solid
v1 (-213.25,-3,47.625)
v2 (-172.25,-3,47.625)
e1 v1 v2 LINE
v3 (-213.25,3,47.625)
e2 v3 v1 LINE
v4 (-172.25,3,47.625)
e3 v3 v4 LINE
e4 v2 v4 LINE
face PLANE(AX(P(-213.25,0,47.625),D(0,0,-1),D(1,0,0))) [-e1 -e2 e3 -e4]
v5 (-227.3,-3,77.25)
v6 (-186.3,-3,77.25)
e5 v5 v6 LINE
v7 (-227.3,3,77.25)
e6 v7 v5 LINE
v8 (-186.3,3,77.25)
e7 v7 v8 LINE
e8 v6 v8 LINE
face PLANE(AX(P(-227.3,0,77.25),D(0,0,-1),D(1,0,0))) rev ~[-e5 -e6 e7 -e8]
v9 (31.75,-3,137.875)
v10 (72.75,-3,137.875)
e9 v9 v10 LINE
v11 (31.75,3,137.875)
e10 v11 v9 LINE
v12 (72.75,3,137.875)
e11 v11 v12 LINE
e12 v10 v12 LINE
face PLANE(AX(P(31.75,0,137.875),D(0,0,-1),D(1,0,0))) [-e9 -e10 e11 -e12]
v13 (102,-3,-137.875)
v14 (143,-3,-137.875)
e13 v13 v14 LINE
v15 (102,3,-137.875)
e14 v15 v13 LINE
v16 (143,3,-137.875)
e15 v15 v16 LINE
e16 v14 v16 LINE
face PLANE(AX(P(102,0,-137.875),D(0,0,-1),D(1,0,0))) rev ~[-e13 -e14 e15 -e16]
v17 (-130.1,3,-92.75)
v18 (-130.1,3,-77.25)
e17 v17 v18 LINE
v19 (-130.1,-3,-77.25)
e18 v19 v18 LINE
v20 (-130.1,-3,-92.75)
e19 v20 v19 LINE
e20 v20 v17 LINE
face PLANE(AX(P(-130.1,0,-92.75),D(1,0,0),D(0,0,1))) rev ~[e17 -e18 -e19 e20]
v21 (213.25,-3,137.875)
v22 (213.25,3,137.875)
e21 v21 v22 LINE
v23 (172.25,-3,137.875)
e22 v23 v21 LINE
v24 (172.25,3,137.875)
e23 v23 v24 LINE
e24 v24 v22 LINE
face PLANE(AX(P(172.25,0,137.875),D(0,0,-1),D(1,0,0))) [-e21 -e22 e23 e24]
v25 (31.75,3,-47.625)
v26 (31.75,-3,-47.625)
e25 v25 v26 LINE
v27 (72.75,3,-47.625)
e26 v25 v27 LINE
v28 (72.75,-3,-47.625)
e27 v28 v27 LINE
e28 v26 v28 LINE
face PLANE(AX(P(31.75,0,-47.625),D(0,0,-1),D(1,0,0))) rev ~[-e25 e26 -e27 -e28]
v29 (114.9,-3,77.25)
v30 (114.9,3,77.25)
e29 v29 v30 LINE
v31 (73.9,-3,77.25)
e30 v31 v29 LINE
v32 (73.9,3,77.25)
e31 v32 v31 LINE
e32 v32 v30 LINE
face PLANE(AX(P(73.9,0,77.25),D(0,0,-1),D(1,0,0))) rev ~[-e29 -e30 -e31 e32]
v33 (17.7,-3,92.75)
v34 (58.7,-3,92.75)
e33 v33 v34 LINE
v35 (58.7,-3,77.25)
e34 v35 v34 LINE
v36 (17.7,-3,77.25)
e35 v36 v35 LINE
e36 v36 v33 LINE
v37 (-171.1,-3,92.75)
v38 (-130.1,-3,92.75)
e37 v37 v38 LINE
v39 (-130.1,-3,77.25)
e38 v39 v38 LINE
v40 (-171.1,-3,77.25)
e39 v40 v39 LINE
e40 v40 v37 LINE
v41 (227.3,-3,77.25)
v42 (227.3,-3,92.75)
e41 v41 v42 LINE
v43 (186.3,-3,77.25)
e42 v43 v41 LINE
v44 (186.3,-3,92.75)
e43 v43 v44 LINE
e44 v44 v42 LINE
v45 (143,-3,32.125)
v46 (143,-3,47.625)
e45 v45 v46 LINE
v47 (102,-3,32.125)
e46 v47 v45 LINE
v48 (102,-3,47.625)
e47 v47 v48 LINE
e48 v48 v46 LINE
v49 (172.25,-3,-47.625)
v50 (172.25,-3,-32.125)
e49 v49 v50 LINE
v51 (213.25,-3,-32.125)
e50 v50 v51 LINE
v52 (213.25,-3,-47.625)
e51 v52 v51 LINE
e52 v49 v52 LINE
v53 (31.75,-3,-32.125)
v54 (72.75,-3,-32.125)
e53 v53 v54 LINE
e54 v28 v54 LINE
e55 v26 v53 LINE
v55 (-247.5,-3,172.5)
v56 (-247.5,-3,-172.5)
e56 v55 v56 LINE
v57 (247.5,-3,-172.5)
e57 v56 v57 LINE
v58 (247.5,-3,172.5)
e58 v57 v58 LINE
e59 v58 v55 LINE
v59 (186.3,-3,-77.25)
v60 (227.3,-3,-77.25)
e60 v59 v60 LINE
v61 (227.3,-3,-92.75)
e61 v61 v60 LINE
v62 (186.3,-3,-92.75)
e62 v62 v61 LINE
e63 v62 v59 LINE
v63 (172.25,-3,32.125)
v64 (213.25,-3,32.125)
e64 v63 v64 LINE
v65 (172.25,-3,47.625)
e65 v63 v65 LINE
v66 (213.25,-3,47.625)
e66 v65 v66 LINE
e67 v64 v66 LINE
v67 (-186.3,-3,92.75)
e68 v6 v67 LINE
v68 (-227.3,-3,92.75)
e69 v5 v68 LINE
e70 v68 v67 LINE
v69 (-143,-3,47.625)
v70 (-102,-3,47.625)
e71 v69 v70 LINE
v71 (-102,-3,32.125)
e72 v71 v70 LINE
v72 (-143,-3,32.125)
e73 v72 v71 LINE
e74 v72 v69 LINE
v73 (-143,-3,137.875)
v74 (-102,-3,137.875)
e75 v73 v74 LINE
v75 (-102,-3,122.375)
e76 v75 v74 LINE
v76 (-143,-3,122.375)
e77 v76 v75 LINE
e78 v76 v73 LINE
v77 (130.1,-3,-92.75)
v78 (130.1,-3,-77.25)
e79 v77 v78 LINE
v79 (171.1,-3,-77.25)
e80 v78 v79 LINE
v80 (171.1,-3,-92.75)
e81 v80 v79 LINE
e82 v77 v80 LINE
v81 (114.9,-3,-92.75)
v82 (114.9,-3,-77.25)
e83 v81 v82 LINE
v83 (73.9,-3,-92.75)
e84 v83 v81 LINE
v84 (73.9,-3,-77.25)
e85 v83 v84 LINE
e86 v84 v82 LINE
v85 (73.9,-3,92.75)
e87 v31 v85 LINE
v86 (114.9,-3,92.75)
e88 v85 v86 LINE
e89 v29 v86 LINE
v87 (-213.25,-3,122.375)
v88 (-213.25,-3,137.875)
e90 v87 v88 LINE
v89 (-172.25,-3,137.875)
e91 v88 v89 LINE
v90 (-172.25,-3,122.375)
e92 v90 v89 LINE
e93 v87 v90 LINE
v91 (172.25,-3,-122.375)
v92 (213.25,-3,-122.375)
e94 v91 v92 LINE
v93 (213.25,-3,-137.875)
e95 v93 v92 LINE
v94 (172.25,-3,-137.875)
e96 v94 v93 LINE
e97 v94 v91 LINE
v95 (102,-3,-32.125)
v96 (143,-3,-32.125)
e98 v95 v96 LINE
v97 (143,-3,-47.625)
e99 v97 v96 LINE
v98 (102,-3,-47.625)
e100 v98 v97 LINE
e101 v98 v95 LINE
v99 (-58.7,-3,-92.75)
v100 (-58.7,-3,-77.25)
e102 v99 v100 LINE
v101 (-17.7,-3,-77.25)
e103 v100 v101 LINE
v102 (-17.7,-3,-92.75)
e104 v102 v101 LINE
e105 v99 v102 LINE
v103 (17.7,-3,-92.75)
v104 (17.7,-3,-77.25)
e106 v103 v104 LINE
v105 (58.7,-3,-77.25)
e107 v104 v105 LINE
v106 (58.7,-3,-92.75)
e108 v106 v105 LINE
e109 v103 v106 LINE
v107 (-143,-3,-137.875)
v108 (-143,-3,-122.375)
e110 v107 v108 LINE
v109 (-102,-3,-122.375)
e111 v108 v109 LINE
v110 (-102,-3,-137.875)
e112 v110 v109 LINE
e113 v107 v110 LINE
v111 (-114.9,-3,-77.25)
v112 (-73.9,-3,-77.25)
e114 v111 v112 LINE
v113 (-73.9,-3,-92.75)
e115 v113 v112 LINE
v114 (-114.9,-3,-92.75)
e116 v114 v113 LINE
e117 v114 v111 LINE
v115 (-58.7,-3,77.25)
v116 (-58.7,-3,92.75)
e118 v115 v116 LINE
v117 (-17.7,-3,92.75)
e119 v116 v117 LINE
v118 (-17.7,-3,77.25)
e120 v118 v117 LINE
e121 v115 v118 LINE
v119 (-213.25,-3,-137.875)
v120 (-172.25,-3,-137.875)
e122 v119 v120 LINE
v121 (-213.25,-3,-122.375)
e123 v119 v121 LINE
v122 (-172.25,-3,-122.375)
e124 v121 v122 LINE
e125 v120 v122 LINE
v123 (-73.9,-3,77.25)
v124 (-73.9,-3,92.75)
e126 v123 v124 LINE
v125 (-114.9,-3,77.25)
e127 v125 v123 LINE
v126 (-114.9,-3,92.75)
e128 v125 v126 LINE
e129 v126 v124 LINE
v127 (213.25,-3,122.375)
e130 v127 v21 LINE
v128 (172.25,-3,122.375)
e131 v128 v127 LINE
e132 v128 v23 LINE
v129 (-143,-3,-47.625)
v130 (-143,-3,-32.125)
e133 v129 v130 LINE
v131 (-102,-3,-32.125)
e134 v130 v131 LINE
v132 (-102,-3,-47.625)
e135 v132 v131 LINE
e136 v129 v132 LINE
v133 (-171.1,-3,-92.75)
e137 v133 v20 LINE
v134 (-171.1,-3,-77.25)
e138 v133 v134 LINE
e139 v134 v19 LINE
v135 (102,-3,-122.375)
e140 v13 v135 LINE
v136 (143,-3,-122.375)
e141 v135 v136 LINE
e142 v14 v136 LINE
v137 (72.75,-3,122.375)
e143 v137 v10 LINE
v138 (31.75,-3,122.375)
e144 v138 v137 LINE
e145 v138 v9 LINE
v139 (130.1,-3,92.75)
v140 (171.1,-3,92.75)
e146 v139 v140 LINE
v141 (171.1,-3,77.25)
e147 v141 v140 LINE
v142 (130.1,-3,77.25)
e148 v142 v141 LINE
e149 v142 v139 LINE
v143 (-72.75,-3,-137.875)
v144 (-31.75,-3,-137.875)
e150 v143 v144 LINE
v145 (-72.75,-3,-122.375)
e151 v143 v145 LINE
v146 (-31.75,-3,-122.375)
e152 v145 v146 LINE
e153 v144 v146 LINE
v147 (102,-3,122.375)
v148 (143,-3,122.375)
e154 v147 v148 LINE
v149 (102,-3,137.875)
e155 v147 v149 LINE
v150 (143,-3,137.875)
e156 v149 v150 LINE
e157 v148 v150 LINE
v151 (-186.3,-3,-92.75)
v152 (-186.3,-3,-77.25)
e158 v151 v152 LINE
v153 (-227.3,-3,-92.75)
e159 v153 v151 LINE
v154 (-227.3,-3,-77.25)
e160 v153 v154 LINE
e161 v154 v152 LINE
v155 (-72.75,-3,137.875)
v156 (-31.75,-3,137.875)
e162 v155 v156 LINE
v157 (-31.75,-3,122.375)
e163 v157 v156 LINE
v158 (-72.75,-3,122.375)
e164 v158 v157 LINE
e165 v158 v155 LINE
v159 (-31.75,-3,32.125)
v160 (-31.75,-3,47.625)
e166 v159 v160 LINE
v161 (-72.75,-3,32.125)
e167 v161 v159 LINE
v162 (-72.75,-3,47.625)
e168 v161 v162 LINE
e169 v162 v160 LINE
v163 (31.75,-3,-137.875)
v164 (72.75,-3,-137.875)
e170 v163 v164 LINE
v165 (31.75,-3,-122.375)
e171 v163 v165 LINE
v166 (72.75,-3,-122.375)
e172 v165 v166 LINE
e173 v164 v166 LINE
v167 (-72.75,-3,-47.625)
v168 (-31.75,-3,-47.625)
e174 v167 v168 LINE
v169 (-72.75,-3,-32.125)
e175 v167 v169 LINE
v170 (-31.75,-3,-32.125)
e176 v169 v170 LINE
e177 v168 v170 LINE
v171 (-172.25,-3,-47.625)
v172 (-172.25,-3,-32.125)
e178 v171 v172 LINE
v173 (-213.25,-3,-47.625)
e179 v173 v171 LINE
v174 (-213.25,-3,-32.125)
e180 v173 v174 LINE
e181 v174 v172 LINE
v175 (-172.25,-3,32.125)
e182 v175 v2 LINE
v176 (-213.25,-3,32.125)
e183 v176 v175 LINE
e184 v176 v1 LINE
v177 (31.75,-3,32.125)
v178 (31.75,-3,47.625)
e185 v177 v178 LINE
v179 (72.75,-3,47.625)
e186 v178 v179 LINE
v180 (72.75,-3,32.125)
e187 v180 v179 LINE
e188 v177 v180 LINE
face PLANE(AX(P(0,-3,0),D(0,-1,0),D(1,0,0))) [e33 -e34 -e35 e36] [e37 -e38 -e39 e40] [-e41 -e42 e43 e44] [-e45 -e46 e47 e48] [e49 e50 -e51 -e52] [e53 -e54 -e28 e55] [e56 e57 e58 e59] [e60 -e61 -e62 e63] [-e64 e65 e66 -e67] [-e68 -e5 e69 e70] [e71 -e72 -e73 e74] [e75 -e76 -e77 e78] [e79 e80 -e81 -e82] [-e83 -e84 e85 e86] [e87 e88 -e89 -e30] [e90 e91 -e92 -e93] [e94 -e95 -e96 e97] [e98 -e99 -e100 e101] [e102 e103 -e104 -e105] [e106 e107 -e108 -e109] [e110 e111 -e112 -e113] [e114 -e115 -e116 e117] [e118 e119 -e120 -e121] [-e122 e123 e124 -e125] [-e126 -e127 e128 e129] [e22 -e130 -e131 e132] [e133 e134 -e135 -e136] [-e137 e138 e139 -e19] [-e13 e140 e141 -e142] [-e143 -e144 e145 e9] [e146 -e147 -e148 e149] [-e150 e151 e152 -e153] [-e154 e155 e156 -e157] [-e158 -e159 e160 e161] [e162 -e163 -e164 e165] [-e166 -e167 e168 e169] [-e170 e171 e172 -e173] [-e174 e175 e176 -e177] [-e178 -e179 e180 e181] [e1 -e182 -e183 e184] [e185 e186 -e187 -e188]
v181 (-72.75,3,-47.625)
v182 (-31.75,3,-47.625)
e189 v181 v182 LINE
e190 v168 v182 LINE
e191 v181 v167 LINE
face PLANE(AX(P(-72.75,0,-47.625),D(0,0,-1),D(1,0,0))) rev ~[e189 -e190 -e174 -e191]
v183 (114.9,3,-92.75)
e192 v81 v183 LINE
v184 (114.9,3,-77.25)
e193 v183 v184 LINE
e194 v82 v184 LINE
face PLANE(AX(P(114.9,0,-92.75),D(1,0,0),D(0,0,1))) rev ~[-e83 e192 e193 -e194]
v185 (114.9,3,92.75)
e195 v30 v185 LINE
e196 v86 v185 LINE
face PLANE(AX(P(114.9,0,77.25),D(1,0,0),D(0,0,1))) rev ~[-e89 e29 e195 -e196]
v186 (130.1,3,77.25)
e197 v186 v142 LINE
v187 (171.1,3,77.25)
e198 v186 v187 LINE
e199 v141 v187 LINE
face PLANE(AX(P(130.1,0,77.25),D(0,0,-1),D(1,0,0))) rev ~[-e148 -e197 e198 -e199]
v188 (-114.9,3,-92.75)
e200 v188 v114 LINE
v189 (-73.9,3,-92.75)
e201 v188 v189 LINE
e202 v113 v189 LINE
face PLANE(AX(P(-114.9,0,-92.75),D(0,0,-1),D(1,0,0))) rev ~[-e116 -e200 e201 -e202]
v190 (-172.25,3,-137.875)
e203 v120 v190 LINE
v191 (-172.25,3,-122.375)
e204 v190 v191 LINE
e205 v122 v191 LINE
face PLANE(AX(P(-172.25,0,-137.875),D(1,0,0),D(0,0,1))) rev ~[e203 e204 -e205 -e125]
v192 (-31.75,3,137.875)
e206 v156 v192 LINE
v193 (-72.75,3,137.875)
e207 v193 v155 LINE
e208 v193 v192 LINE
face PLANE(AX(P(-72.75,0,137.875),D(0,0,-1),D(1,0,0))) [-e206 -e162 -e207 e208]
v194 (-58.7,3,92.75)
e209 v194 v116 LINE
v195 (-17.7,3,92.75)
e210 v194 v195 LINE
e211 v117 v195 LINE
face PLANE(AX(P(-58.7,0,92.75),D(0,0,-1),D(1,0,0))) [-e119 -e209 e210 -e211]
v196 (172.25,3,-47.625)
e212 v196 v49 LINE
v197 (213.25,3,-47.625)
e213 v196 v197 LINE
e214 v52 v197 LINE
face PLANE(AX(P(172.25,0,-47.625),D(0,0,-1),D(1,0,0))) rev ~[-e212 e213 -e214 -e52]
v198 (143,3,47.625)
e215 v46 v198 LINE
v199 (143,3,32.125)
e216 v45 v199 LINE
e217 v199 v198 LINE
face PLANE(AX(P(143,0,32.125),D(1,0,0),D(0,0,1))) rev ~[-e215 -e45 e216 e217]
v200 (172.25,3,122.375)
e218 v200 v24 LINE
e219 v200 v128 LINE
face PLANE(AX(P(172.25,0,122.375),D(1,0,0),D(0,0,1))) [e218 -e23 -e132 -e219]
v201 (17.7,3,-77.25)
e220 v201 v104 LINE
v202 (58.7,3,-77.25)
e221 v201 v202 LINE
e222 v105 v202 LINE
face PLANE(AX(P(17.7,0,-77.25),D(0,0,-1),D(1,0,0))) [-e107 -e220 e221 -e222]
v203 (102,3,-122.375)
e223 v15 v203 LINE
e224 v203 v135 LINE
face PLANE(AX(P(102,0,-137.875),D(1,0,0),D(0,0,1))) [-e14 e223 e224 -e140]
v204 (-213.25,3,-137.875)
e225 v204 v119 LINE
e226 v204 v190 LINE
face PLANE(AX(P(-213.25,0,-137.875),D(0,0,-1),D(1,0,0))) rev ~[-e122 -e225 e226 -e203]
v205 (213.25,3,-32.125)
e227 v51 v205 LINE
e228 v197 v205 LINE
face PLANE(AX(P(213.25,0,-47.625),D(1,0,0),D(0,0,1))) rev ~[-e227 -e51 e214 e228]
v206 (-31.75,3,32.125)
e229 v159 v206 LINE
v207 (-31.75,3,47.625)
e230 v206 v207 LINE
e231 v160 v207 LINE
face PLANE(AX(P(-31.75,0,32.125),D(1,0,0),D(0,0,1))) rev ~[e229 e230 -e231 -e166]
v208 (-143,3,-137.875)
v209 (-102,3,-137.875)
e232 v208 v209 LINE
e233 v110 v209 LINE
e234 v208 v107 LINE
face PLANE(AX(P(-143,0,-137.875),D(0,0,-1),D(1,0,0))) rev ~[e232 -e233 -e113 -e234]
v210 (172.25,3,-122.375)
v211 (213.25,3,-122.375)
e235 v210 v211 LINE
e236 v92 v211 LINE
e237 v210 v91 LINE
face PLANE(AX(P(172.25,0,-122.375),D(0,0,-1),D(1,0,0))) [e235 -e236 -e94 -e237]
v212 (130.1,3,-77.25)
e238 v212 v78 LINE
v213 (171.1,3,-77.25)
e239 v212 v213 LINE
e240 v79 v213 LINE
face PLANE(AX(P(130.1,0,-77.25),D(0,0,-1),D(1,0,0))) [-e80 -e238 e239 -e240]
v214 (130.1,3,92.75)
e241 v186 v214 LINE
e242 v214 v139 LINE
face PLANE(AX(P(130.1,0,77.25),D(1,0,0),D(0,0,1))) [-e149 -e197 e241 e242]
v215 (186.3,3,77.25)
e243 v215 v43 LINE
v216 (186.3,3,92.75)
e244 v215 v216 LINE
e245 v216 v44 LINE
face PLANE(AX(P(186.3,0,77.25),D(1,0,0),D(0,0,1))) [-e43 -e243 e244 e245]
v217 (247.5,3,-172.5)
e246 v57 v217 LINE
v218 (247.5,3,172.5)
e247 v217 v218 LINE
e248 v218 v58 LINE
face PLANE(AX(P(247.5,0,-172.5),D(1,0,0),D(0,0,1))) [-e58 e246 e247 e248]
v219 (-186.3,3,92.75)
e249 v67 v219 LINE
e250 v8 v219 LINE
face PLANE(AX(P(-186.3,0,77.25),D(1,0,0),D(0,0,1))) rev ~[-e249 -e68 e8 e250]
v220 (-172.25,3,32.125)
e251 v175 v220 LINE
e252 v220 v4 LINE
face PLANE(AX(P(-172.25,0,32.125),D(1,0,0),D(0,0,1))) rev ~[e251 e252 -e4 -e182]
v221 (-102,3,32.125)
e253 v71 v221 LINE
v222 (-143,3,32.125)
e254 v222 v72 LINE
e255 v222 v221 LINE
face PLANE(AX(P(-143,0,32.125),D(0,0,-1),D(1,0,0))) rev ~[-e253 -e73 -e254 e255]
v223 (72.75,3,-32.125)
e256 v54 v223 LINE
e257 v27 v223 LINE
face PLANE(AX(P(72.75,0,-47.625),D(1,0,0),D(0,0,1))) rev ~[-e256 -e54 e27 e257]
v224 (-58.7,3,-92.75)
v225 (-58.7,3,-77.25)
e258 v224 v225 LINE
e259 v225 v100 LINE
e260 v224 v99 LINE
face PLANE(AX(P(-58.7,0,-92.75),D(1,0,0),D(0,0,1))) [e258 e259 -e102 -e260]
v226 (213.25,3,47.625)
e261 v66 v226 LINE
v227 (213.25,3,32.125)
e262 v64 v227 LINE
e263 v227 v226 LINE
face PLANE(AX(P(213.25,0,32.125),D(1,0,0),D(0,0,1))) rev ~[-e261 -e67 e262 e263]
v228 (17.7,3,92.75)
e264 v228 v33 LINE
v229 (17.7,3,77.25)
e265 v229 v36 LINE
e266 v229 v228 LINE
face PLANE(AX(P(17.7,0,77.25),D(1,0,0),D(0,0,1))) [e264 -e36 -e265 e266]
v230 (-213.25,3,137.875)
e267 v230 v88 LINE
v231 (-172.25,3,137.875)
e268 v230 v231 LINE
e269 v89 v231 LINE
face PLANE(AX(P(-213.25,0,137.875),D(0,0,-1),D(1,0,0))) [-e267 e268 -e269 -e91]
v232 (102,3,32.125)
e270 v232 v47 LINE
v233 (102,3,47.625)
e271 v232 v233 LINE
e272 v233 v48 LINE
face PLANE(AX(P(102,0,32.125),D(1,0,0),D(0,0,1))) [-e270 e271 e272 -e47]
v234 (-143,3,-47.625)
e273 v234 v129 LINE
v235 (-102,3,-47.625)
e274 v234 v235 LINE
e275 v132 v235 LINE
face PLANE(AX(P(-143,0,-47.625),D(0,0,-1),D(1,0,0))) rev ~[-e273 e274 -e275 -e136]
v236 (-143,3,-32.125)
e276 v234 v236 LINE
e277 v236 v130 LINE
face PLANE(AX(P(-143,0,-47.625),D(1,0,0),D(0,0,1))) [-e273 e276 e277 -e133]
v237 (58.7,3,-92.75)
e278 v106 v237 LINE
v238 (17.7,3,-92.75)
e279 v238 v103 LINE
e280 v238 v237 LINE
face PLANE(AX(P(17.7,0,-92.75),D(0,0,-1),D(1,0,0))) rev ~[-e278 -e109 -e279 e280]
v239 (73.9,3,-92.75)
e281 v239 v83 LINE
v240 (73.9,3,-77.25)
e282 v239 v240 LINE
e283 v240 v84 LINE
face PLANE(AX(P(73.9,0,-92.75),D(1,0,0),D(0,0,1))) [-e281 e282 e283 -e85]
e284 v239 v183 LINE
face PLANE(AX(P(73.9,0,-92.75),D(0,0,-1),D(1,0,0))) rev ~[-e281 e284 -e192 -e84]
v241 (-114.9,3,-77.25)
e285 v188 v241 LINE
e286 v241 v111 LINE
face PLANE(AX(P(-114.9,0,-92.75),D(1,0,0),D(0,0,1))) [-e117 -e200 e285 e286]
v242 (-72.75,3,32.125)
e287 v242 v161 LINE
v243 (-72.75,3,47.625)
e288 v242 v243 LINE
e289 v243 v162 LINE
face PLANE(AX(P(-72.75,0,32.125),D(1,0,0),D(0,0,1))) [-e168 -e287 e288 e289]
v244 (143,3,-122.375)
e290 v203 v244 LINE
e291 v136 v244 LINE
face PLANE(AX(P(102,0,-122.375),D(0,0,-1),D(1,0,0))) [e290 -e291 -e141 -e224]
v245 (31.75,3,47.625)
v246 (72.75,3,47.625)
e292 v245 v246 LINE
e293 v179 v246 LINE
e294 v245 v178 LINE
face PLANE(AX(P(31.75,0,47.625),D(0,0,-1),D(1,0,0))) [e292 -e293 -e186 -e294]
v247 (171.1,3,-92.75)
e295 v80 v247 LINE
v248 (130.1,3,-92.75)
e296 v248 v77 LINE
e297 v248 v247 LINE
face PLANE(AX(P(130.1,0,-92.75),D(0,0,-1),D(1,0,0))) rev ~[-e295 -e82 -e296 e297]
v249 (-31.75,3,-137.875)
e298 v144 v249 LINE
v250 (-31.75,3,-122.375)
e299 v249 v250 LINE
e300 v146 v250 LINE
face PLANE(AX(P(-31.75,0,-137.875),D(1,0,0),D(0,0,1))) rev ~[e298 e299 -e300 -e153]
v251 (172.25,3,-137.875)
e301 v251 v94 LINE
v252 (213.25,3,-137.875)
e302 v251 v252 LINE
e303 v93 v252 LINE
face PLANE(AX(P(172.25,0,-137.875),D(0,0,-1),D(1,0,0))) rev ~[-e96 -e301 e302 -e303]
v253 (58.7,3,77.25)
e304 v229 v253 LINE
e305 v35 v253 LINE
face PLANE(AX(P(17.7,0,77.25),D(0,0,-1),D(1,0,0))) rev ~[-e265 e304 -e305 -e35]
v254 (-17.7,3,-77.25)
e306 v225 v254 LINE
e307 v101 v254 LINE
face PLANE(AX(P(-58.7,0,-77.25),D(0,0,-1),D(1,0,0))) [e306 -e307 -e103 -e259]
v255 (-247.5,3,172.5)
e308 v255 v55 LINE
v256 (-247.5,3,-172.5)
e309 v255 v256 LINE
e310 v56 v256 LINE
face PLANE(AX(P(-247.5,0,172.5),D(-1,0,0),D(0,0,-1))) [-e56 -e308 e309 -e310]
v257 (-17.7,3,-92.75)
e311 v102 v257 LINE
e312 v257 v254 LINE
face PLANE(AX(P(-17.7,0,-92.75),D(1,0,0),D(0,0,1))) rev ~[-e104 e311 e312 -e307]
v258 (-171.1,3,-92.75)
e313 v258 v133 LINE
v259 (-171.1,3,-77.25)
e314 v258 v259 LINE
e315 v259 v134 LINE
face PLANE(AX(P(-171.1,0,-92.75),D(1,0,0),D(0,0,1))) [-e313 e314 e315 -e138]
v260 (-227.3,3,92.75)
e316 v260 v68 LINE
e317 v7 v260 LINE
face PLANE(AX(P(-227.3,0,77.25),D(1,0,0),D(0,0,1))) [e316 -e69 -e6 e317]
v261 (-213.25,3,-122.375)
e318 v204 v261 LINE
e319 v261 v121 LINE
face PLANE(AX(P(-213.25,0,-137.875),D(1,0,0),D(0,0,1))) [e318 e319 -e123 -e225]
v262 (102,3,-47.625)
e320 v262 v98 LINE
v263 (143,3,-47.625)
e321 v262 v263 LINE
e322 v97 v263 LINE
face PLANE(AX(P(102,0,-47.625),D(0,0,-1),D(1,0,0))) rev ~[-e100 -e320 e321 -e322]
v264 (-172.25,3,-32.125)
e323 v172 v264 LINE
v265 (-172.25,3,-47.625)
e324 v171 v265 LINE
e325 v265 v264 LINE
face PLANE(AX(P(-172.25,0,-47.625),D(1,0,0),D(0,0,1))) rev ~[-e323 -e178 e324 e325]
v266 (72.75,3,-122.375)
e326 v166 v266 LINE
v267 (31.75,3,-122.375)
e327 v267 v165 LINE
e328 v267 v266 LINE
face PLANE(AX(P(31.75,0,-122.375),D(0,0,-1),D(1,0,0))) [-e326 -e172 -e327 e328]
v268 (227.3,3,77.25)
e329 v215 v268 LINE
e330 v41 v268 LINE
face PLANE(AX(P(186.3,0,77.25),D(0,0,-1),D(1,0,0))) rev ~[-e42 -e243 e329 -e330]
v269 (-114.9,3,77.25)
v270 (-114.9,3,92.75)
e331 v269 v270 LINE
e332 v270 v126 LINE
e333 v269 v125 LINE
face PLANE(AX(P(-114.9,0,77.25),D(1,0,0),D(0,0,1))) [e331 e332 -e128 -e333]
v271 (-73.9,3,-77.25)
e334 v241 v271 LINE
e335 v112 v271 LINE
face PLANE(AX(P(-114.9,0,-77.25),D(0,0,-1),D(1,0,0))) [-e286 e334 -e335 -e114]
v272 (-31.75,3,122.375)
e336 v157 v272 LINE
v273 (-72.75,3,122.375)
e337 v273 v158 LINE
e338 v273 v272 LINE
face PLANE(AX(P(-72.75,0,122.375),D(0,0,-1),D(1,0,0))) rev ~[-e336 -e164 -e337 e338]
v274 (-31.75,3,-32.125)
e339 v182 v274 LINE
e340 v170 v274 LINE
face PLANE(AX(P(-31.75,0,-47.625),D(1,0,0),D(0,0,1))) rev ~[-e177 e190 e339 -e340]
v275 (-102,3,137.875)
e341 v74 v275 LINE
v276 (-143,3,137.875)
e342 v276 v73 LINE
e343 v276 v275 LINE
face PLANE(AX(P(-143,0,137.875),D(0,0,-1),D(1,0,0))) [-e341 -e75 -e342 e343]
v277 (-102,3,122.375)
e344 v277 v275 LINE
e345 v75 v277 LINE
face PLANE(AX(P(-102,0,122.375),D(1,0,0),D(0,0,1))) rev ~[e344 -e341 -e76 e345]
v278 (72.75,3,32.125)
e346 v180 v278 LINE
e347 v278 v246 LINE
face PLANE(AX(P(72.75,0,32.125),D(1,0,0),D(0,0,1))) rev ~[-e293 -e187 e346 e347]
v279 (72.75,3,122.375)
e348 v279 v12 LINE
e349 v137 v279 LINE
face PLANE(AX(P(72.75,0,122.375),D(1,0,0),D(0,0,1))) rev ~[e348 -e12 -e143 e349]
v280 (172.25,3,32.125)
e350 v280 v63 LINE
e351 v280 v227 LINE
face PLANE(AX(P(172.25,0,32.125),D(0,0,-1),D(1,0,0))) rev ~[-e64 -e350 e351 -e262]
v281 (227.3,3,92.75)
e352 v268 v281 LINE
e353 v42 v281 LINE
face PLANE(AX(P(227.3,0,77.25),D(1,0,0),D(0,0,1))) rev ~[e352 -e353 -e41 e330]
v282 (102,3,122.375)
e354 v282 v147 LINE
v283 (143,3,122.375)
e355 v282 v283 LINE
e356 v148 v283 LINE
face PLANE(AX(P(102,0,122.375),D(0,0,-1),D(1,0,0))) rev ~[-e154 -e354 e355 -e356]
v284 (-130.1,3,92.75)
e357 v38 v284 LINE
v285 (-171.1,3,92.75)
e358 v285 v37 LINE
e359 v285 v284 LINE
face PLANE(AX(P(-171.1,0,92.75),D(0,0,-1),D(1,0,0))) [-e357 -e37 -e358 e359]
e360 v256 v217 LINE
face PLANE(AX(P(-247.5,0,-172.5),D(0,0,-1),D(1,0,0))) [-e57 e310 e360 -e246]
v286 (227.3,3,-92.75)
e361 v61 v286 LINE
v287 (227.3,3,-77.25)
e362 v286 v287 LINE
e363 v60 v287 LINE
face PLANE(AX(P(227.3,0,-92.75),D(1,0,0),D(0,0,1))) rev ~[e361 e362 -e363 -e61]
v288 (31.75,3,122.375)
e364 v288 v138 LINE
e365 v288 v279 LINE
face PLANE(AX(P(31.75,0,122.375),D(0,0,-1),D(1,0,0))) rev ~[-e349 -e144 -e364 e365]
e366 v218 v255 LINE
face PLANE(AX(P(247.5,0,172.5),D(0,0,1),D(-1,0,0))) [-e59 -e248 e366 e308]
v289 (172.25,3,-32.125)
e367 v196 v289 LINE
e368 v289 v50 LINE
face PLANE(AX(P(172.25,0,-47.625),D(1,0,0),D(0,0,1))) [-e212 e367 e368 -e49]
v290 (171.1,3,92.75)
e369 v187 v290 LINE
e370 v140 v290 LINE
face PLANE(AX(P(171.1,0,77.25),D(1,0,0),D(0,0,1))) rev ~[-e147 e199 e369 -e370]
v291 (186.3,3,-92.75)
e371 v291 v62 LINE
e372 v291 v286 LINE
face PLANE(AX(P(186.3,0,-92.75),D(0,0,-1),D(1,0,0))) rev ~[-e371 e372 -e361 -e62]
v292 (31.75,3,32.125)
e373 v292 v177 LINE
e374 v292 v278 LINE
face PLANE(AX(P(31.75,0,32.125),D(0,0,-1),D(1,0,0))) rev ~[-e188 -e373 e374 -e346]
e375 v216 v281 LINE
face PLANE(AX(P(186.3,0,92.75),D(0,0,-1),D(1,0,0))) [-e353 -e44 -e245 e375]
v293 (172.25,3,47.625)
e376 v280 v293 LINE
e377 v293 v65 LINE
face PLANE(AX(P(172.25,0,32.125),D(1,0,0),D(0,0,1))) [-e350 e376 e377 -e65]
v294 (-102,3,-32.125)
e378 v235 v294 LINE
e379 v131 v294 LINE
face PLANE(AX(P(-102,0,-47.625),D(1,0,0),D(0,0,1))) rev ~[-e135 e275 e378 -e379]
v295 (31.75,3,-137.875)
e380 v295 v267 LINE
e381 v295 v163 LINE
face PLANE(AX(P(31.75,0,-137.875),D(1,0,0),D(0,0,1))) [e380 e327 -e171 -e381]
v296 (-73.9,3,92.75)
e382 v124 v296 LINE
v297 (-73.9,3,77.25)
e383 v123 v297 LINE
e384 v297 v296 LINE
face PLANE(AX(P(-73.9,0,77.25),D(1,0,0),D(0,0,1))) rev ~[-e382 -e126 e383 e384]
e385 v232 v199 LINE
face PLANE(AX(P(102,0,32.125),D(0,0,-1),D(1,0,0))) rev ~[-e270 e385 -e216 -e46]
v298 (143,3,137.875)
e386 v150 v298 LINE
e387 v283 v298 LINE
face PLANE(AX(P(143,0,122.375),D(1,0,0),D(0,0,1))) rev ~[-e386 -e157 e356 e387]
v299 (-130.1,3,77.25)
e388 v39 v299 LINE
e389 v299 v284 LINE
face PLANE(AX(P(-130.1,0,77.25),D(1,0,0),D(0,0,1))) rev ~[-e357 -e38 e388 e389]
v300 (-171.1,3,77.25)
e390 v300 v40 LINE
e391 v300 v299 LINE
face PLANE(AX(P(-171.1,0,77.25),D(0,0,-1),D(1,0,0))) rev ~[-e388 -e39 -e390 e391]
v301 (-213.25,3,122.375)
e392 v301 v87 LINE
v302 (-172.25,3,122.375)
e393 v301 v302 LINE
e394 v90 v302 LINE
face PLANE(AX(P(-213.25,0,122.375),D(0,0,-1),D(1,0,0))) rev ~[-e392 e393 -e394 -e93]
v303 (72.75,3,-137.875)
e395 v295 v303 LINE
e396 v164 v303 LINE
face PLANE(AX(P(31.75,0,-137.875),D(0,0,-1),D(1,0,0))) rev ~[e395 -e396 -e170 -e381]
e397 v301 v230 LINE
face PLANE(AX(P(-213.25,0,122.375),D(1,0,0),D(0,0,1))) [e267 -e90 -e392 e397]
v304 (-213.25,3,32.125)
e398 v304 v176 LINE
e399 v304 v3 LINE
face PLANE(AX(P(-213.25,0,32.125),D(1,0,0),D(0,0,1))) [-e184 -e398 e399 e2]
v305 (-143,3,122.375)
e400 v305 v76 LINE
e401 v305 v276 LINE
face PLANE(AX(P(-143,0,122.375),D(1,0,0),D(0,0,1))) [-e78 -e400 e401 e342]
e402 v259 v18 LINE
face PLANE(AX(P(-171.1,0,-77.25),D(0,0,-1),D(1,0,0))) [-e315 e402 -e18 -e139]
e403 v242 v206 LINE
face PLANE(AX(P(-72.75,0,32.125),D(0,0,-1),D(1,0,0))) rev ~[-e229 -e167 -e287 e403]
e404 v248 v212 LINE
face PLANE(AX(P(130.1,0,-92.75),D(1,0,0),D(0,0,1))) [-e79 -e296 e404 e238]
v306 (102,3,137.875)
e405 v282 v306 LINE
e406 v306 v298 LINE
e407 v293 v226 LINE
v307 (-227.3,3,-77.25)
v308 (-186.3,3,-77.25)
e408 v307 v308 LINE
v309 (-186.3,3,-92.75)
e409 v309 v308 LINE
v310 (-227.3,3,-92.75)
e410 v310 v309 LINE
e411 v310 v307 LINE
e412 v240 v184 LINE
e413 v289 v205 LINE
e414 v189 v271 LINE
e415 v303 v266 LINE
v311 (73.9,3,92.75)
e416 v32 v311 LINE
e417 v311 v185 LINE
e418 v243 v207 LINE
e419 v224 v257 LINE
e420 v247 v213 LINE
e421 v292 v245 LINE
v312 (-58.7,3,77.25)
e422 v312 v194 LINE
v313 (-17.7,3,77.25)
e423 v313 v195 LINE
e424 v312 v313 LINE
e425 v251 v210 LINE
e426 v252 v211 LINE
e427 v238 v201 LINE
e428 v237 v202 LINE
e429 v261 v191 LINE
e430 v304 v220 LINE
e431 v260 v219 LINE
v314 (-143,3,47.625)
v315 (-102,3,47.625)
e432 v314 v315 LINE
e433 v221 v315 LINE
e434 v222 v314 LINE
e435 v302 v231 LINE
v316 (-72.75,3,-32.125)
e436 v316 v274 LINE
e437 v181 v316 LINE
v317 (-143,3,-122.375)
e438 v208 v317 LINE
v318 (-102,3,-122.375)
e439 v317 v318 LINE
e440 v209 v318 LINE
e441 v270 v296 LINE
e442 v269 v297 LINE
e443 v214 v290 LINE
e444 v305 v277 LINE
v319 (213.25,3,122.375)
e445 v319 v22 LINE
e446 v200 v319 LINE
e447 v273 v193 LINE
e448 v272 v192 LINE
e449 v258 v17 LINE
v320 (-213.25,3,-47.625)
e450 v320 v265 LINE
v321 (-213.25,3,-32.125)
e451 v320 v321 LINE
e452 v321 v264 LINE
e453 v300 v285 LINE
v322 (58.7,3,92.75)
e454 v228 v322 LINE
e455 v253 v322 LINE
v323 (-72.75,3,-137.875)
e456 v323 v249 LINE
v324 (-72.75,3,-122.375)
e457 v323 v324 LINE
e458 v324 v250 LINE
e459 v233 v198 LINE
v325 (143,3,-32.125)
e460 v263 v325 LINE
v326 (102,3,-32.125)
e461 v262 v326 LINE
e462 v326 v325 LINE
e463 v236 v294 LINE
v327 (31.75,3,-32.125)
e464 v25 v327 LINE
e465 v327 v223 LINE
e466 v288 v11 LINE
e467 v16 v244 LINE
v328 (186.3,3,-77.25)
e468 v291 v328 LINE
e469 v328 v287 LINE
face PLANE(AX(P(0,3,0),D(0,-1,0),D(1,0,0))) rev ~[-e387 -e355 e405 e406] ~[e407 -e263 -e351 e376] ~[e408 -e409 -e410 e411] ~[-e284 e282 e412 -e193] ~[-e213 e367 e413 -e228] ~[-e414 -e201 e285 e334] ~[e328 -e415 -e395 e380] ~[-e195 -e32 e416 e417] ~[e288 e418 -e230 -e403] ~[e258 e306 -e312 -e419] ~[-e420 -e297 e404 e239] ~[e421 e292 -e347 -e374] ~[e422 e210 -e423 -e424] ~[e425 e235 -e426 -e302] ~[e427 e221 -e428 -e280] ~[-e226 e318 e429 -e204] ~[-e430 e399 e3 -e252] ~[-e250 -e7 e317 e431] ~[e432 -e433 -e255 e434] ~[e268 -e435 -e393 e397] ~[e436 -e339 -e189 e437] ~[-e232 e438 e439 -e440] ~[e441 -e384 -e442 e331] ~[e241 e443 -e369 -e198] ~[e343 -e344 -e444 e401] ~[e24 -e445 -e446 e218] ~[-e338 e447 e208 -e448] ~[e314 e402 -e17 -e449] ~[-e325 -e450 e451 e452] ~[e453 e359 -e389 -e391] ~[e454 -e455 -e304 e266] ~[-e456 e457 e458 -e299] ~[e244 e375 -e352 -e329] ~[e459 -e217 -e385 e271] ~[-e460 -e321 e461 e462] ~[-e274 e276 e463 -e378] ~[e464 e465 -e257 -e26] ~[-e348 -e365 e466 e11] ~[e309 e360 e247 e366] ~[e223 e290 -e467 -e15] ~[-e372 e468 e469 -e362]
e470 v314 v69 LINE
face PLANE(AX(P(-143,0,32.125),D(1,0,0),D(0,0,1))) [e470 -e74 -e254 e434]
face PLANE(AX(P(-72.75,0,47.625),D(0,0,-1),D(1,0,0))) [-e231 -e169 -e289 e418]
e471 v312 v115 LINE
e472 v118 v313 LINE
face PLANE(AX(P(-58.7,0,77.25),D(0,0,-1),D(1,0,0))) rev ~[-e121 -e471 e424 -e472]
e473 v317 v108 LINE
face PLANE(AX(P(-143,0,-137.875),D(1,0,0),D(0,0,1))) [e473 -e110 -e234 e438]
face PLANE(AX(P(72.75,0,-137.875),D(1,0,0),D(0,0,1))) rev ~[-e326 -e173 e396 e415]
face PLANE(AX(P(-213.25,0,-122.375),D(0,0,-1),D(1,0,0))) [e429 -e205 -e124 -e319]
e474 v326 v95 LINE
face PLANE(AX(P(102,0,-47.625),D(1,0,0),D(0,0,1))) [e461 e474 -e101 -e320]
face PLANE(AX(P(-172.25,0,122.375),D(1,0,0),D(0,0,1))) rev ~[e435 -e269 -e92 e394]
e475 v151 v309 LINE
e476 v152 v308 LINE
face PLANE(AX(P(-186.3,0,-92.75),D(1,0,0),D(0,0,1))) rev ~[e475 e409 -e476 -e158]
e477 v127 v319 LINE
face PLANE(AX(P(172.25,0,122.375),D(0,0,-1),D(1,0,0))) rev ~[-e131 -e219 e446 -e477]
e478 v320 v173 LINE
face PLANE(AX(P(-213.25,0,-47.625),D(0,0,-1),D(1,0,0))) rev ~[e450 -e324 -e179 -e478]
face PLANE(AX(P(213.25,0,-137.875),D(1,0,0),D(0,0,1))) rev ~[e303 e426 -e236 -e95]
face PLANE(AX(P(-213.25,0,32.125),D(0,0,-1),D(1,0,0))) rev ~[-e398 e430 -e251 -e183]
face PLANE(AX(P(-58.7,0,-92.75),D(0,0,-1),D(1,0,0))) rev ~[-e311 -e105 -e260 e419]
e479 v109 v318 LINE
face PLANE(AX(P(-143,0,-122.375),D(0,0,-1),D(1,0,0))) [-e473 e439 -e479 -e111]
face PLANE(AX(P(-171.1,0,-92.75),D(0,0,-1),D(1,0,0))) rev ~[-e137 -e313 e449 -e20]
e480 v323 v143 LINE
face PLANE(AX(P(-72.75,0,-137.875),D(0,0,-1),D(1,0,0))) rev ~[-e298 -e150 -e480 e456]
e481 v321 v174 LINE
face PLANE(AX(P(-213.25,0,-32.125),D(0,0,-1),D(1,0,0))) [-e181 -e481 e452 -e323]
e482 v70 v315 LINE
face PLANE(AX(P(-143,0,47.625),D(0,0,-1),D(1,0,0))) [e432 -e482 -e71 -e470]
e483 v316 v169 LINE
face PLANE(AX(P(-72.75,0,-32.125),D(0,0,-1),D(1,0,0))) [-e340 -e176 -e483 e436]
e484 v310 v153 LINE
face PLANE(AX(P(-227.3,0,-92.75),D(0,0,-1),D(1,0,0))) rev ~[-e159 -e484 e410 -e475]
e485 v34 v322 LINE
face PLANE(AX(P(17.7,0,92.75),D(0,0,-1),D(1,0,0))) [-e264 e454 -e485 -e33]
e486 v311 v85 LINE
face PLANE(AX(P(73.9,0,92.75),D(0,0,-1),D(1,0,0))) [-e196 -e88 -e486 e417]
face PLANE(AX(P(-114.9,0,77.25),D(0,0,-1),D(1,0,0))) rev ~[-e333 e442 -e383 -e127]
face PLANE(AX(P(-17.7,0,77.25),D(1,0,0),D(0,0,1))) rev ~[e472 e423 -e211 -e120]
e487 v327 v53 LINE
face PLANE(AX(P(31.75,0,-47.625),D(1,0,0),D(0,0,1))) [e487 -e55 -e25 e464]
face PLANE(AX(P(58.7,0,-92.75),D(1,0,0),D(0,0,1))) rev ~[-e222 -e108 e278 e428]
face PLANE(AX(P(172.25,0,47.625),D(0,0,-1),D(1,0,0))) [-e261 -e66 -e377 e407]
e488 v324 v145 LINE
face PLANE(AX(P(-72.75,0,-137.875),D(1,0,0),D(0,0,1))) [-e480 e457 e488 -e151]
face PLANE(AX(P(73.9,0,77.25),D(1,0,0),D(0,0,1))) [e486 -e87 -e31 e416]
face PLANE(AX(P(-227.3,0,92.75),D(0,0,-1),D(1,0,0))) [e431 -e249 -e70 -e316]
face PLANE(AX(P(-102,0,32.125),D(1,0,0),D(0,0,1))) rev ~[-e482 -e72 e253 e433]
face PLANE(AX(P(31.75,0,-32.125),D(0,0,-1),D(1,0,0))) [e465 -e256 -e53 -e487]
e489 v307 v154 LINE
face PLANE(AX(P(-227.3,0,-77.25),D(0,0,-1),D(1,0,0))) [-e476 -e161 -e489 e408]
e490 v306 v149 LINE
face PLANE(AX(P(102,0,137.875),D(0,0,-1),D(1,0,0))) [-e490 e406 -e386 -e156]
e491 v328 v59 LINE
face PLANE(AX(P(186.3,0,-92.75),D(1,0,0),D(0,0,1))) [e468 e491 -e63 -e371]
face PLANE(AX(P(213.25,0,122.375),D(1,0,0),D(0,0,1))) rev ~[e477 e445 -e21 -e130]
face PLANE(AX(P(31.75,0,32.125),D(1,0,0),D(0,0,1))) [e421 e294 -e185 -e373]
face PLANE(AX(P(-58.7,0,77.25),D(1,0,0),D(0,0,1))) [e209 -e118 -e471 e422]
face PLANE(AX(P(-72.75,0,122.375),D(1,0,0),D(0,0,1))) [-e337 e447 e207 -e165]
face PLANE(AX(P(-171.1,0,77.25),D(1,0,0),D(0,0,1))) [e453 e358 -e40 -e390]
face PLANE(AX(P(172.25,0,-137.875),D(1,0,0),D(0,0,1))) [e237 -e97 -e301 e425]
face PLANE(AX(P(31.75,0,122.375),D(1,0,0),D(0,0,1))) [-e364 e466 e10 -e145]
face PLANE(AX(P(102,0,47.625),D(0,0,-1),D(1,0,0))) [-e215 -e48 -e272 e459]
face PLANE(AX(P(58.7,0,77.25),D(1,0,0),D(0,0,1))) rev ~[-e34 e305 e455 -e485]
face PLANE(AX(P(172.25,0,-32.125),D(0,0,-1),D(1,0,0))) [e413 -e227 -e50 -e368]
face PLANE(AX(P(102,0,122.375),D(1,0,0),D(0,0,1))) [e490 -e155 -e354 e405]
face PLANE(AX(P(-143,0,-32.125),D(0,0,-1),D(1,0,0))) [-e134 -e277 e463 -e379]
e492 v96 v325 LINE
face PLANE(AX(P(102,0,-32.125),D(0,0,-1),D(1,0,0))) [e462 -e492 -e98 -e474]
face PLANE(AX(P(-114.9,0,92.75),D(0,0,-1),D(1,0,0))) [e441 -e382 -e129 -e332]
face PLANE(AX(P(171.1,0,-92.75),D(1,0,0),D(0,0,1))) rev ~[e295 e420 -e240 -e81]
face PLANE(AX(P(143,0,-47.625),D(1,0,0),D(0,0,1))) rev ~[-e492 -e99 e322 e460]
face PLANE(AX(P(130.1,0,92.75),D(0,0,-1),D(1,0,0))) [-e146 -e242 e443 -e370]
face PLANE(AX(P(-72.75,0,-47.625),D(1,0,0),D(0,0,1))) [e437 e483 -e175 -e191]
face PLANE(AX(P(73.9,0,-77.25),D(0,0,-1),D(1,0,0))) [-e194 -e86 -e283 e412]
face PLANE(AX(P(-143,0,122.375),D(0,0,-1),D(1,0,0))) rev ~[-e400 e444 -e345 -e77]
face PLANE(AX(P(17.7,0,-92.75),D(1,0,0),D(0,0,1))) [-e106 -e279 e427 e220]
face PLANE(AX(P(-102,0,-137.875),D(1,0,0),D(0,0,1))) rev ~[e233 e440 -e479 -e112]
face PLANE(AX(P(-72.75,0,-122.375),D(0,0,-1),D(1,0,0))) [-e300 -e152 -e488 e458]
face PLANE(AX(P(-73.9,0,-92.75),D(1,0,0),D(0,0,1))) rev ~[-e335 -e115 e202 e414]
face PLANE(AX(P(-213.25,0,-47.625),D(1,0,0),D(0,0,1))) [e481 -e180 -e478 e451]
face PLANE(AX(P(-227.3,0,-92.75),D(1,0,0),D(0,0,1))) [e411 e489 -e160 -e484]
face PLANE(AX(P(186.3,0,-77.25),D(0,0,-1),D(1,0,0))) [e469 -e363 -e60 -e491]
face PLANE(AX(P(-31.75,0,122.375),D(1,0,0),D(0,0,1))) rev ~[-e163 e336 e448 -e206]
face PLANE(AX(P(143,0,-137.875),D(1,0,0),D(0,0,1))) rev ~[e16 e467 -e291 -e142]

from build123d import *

# Parameters (mm, degrees)
F0_W     = 41
F0_H     = 15.5
F1_DEPTH = 3


with BuildPart() as f1:
    # F0 (on Front) → F1 (new body, symmetric)
    with BuildSketch(Plane.XZ):
        Polygon((-227.5, -172.5), (227.5, -172.5), (247.5, -172.5), (247.5, -152.5), (247.5, 152.5), (247.5, 172.5), (226.916667, 172.5), (-228.083333, 172.5), (-247.5, 172.5), (-247.5, 152.5), (-247.5, -152.5), (-247.5, -172.5), align=None)
        with Locations((-192.75, -130.125)):
            Rectangle(F0_W, F0_H, mode=Mode.SUBTRACT)
        with Locations((-122.5, -130.125)):
            Rectangle(F0_W, F0_H, mode=Mode.SUBTRACT)
        with Locations((-52.25, -130.125)):
            Rectangle(F0_W, F0_H, mode=Mode.SUBTRACT)
        with Locations((-206.8, -85)):
            Rectangle(F0_W, F0_H, mode=Mode.SUBTRACT)
        with Locations((-150.6, -85)):
            Rectangle(F0_W, F0_H, mode=Mode.SUBTRACT)
        with Locations((-192.75, -39.875)):
            Rectangle(F0_W, F0_H, mode=Mode.SUBTRACT)
        with Locations((-94.4, -85)):
            Rectangle(F0_W, F0_H, mode=Mode.SUBTRACT)
        with Locations((-38.2, -85)):
            Rectangle(F0_W, F0_H, mode=Mode.SUBTRACT)
        with Locations((-122.5, -39.875)):
            Rectangle(F0_W, F0_H, mode=Mode.SUBTRACT)
        with Locations((-52.25, -39.875)):
            Rectangle(F0_W, F0_H, mode=Mode.SUBTRACT)
        with Locations((52.25, -130.125)):
            Rectangle(F0_W, F0_H, mode=Mode.SUBTRACT)
        with Locations((122.5, -130.125)):
            Rectangle(F0_W, F0_H, mode=Mode.SUBTRACT)
        with Locations((192.75, -130.125)):
            Rectangle(F0_W, F0_H, mode=Mode.SUBTRACT)
        with Locations((38.2, -85)):
            Rectangle(F0_W, F0_H, mode=Mode.SUBTRACT)
        with Locations((94.4, -85)):
            Rectangle(F0_W, F0_H, mode=Mode.SUBTRACT)
        with Locations((52.25, -39.875)):
            Rectangle(F0_W, F0_H, mode=Mode.SUBTRACT)
        with Locations((122.5, -39.875)):
            Rectangle(F0_W, F0_H, mode=Mode.SUBTRACT)
        with Locations((150.6, -85)):
            Rectangle(F0_W, F0_H, mode=Mode.SUBTRACT)
        with Locations((206.8, -85)):
            Rectangle(F0_W, F0_H, mode=Mode.SUBTRACT)
        with Locations((192.75, -39.875)):
            Rectangle(F0_W, F0_H, mode=Mode.SUBTRACT)
        with Locations((-192.75, 39.875)):
            Rectangle(F0_W, F0_H, mode=Mode.SUBTRACT)
        with Locations((-206.8, 85)):
            Rectangle(F0_W, F0_H, mode=Mode.SUBTRACT)
        with Locations((-150.6, 85)):
            Rectangle(F0_W, F0_H, mode=Mode.SUBTRACT)
        with Locations((-122.5, 39.875)):
            Rectangle(F0_W, F0_H, mode=Mode.SUBTRACT)
        with Locations((-52.25, 39.875)):
            Rectangle(F0_W, F0_H, mode=Mode.SUBTRACT)
        with Locations((-94.4, 85)):
            Rectangle(F0_W, F0_H, mode=Mode.SUBTRACT)
        with Locations((-38.2, 85)):
            Rectangle(F0_W, F0_H, mode=Mode.SUBTRACT)
        with Locations((-192.75, 130.125)):
            Rectangle(F0_W, F0_H, mode=Mode.SUBTRACT)
        with Locations((-122.5, 130.125)):
            Rectangle(F0_W, F0_H, mode=Mode.SUBTRACT)
        with Locations((-52.25, 130.125)):
            Rectangle(F0_W, F0_H, mode=Mode.SUBTRACT)
        with Locations((52.25, 39.875)):
            Rectangle(F0_W, F0_H, mode=Mode.SUBTRACT)
        with Locations((122.5, 39.875)):
            Rectangle(F0_W, F0_H, mode=Mode.SUBTRACT)
        with Locations((38.2, 85)):
            Rectangle(F0_W, F0_H, mode=Mode.SUBTRACT)
        with Locations((94.4, 85)):
            Rectangle(F0_W, F0_H, mode=Mode.SUBTRACT)
        with Locations((192.75, 39.875)):
            Rectangle(F0_W, F0_H, mode=Mode.SUBTRACT)
        with Locations((150.6, 85)):
            Rectangle(F0_W, F0_H, mode=Mode.SUBTRACT)
        with Locations((206.8, 85)):
            Rectangle(F0_W, F0_H, mode=Mode.SUBTRACT)
        with Locations((52.25, 130.125)):
            Rectangle(F0_W, F0_H, mode=Mode.SUBTRACT)
        with Locations((122.5, 130.125)):
            Rectangle(F0_W, F0_H, mode=Mode.SUBTRACT)
        with Locations((192.75, 130.125)):
            Rectangle(F0_W, F0_H, mode=Mode.SUBTRACT)
    extrude(amount=F1_DEPTH, both=True)


solid = f1.part
